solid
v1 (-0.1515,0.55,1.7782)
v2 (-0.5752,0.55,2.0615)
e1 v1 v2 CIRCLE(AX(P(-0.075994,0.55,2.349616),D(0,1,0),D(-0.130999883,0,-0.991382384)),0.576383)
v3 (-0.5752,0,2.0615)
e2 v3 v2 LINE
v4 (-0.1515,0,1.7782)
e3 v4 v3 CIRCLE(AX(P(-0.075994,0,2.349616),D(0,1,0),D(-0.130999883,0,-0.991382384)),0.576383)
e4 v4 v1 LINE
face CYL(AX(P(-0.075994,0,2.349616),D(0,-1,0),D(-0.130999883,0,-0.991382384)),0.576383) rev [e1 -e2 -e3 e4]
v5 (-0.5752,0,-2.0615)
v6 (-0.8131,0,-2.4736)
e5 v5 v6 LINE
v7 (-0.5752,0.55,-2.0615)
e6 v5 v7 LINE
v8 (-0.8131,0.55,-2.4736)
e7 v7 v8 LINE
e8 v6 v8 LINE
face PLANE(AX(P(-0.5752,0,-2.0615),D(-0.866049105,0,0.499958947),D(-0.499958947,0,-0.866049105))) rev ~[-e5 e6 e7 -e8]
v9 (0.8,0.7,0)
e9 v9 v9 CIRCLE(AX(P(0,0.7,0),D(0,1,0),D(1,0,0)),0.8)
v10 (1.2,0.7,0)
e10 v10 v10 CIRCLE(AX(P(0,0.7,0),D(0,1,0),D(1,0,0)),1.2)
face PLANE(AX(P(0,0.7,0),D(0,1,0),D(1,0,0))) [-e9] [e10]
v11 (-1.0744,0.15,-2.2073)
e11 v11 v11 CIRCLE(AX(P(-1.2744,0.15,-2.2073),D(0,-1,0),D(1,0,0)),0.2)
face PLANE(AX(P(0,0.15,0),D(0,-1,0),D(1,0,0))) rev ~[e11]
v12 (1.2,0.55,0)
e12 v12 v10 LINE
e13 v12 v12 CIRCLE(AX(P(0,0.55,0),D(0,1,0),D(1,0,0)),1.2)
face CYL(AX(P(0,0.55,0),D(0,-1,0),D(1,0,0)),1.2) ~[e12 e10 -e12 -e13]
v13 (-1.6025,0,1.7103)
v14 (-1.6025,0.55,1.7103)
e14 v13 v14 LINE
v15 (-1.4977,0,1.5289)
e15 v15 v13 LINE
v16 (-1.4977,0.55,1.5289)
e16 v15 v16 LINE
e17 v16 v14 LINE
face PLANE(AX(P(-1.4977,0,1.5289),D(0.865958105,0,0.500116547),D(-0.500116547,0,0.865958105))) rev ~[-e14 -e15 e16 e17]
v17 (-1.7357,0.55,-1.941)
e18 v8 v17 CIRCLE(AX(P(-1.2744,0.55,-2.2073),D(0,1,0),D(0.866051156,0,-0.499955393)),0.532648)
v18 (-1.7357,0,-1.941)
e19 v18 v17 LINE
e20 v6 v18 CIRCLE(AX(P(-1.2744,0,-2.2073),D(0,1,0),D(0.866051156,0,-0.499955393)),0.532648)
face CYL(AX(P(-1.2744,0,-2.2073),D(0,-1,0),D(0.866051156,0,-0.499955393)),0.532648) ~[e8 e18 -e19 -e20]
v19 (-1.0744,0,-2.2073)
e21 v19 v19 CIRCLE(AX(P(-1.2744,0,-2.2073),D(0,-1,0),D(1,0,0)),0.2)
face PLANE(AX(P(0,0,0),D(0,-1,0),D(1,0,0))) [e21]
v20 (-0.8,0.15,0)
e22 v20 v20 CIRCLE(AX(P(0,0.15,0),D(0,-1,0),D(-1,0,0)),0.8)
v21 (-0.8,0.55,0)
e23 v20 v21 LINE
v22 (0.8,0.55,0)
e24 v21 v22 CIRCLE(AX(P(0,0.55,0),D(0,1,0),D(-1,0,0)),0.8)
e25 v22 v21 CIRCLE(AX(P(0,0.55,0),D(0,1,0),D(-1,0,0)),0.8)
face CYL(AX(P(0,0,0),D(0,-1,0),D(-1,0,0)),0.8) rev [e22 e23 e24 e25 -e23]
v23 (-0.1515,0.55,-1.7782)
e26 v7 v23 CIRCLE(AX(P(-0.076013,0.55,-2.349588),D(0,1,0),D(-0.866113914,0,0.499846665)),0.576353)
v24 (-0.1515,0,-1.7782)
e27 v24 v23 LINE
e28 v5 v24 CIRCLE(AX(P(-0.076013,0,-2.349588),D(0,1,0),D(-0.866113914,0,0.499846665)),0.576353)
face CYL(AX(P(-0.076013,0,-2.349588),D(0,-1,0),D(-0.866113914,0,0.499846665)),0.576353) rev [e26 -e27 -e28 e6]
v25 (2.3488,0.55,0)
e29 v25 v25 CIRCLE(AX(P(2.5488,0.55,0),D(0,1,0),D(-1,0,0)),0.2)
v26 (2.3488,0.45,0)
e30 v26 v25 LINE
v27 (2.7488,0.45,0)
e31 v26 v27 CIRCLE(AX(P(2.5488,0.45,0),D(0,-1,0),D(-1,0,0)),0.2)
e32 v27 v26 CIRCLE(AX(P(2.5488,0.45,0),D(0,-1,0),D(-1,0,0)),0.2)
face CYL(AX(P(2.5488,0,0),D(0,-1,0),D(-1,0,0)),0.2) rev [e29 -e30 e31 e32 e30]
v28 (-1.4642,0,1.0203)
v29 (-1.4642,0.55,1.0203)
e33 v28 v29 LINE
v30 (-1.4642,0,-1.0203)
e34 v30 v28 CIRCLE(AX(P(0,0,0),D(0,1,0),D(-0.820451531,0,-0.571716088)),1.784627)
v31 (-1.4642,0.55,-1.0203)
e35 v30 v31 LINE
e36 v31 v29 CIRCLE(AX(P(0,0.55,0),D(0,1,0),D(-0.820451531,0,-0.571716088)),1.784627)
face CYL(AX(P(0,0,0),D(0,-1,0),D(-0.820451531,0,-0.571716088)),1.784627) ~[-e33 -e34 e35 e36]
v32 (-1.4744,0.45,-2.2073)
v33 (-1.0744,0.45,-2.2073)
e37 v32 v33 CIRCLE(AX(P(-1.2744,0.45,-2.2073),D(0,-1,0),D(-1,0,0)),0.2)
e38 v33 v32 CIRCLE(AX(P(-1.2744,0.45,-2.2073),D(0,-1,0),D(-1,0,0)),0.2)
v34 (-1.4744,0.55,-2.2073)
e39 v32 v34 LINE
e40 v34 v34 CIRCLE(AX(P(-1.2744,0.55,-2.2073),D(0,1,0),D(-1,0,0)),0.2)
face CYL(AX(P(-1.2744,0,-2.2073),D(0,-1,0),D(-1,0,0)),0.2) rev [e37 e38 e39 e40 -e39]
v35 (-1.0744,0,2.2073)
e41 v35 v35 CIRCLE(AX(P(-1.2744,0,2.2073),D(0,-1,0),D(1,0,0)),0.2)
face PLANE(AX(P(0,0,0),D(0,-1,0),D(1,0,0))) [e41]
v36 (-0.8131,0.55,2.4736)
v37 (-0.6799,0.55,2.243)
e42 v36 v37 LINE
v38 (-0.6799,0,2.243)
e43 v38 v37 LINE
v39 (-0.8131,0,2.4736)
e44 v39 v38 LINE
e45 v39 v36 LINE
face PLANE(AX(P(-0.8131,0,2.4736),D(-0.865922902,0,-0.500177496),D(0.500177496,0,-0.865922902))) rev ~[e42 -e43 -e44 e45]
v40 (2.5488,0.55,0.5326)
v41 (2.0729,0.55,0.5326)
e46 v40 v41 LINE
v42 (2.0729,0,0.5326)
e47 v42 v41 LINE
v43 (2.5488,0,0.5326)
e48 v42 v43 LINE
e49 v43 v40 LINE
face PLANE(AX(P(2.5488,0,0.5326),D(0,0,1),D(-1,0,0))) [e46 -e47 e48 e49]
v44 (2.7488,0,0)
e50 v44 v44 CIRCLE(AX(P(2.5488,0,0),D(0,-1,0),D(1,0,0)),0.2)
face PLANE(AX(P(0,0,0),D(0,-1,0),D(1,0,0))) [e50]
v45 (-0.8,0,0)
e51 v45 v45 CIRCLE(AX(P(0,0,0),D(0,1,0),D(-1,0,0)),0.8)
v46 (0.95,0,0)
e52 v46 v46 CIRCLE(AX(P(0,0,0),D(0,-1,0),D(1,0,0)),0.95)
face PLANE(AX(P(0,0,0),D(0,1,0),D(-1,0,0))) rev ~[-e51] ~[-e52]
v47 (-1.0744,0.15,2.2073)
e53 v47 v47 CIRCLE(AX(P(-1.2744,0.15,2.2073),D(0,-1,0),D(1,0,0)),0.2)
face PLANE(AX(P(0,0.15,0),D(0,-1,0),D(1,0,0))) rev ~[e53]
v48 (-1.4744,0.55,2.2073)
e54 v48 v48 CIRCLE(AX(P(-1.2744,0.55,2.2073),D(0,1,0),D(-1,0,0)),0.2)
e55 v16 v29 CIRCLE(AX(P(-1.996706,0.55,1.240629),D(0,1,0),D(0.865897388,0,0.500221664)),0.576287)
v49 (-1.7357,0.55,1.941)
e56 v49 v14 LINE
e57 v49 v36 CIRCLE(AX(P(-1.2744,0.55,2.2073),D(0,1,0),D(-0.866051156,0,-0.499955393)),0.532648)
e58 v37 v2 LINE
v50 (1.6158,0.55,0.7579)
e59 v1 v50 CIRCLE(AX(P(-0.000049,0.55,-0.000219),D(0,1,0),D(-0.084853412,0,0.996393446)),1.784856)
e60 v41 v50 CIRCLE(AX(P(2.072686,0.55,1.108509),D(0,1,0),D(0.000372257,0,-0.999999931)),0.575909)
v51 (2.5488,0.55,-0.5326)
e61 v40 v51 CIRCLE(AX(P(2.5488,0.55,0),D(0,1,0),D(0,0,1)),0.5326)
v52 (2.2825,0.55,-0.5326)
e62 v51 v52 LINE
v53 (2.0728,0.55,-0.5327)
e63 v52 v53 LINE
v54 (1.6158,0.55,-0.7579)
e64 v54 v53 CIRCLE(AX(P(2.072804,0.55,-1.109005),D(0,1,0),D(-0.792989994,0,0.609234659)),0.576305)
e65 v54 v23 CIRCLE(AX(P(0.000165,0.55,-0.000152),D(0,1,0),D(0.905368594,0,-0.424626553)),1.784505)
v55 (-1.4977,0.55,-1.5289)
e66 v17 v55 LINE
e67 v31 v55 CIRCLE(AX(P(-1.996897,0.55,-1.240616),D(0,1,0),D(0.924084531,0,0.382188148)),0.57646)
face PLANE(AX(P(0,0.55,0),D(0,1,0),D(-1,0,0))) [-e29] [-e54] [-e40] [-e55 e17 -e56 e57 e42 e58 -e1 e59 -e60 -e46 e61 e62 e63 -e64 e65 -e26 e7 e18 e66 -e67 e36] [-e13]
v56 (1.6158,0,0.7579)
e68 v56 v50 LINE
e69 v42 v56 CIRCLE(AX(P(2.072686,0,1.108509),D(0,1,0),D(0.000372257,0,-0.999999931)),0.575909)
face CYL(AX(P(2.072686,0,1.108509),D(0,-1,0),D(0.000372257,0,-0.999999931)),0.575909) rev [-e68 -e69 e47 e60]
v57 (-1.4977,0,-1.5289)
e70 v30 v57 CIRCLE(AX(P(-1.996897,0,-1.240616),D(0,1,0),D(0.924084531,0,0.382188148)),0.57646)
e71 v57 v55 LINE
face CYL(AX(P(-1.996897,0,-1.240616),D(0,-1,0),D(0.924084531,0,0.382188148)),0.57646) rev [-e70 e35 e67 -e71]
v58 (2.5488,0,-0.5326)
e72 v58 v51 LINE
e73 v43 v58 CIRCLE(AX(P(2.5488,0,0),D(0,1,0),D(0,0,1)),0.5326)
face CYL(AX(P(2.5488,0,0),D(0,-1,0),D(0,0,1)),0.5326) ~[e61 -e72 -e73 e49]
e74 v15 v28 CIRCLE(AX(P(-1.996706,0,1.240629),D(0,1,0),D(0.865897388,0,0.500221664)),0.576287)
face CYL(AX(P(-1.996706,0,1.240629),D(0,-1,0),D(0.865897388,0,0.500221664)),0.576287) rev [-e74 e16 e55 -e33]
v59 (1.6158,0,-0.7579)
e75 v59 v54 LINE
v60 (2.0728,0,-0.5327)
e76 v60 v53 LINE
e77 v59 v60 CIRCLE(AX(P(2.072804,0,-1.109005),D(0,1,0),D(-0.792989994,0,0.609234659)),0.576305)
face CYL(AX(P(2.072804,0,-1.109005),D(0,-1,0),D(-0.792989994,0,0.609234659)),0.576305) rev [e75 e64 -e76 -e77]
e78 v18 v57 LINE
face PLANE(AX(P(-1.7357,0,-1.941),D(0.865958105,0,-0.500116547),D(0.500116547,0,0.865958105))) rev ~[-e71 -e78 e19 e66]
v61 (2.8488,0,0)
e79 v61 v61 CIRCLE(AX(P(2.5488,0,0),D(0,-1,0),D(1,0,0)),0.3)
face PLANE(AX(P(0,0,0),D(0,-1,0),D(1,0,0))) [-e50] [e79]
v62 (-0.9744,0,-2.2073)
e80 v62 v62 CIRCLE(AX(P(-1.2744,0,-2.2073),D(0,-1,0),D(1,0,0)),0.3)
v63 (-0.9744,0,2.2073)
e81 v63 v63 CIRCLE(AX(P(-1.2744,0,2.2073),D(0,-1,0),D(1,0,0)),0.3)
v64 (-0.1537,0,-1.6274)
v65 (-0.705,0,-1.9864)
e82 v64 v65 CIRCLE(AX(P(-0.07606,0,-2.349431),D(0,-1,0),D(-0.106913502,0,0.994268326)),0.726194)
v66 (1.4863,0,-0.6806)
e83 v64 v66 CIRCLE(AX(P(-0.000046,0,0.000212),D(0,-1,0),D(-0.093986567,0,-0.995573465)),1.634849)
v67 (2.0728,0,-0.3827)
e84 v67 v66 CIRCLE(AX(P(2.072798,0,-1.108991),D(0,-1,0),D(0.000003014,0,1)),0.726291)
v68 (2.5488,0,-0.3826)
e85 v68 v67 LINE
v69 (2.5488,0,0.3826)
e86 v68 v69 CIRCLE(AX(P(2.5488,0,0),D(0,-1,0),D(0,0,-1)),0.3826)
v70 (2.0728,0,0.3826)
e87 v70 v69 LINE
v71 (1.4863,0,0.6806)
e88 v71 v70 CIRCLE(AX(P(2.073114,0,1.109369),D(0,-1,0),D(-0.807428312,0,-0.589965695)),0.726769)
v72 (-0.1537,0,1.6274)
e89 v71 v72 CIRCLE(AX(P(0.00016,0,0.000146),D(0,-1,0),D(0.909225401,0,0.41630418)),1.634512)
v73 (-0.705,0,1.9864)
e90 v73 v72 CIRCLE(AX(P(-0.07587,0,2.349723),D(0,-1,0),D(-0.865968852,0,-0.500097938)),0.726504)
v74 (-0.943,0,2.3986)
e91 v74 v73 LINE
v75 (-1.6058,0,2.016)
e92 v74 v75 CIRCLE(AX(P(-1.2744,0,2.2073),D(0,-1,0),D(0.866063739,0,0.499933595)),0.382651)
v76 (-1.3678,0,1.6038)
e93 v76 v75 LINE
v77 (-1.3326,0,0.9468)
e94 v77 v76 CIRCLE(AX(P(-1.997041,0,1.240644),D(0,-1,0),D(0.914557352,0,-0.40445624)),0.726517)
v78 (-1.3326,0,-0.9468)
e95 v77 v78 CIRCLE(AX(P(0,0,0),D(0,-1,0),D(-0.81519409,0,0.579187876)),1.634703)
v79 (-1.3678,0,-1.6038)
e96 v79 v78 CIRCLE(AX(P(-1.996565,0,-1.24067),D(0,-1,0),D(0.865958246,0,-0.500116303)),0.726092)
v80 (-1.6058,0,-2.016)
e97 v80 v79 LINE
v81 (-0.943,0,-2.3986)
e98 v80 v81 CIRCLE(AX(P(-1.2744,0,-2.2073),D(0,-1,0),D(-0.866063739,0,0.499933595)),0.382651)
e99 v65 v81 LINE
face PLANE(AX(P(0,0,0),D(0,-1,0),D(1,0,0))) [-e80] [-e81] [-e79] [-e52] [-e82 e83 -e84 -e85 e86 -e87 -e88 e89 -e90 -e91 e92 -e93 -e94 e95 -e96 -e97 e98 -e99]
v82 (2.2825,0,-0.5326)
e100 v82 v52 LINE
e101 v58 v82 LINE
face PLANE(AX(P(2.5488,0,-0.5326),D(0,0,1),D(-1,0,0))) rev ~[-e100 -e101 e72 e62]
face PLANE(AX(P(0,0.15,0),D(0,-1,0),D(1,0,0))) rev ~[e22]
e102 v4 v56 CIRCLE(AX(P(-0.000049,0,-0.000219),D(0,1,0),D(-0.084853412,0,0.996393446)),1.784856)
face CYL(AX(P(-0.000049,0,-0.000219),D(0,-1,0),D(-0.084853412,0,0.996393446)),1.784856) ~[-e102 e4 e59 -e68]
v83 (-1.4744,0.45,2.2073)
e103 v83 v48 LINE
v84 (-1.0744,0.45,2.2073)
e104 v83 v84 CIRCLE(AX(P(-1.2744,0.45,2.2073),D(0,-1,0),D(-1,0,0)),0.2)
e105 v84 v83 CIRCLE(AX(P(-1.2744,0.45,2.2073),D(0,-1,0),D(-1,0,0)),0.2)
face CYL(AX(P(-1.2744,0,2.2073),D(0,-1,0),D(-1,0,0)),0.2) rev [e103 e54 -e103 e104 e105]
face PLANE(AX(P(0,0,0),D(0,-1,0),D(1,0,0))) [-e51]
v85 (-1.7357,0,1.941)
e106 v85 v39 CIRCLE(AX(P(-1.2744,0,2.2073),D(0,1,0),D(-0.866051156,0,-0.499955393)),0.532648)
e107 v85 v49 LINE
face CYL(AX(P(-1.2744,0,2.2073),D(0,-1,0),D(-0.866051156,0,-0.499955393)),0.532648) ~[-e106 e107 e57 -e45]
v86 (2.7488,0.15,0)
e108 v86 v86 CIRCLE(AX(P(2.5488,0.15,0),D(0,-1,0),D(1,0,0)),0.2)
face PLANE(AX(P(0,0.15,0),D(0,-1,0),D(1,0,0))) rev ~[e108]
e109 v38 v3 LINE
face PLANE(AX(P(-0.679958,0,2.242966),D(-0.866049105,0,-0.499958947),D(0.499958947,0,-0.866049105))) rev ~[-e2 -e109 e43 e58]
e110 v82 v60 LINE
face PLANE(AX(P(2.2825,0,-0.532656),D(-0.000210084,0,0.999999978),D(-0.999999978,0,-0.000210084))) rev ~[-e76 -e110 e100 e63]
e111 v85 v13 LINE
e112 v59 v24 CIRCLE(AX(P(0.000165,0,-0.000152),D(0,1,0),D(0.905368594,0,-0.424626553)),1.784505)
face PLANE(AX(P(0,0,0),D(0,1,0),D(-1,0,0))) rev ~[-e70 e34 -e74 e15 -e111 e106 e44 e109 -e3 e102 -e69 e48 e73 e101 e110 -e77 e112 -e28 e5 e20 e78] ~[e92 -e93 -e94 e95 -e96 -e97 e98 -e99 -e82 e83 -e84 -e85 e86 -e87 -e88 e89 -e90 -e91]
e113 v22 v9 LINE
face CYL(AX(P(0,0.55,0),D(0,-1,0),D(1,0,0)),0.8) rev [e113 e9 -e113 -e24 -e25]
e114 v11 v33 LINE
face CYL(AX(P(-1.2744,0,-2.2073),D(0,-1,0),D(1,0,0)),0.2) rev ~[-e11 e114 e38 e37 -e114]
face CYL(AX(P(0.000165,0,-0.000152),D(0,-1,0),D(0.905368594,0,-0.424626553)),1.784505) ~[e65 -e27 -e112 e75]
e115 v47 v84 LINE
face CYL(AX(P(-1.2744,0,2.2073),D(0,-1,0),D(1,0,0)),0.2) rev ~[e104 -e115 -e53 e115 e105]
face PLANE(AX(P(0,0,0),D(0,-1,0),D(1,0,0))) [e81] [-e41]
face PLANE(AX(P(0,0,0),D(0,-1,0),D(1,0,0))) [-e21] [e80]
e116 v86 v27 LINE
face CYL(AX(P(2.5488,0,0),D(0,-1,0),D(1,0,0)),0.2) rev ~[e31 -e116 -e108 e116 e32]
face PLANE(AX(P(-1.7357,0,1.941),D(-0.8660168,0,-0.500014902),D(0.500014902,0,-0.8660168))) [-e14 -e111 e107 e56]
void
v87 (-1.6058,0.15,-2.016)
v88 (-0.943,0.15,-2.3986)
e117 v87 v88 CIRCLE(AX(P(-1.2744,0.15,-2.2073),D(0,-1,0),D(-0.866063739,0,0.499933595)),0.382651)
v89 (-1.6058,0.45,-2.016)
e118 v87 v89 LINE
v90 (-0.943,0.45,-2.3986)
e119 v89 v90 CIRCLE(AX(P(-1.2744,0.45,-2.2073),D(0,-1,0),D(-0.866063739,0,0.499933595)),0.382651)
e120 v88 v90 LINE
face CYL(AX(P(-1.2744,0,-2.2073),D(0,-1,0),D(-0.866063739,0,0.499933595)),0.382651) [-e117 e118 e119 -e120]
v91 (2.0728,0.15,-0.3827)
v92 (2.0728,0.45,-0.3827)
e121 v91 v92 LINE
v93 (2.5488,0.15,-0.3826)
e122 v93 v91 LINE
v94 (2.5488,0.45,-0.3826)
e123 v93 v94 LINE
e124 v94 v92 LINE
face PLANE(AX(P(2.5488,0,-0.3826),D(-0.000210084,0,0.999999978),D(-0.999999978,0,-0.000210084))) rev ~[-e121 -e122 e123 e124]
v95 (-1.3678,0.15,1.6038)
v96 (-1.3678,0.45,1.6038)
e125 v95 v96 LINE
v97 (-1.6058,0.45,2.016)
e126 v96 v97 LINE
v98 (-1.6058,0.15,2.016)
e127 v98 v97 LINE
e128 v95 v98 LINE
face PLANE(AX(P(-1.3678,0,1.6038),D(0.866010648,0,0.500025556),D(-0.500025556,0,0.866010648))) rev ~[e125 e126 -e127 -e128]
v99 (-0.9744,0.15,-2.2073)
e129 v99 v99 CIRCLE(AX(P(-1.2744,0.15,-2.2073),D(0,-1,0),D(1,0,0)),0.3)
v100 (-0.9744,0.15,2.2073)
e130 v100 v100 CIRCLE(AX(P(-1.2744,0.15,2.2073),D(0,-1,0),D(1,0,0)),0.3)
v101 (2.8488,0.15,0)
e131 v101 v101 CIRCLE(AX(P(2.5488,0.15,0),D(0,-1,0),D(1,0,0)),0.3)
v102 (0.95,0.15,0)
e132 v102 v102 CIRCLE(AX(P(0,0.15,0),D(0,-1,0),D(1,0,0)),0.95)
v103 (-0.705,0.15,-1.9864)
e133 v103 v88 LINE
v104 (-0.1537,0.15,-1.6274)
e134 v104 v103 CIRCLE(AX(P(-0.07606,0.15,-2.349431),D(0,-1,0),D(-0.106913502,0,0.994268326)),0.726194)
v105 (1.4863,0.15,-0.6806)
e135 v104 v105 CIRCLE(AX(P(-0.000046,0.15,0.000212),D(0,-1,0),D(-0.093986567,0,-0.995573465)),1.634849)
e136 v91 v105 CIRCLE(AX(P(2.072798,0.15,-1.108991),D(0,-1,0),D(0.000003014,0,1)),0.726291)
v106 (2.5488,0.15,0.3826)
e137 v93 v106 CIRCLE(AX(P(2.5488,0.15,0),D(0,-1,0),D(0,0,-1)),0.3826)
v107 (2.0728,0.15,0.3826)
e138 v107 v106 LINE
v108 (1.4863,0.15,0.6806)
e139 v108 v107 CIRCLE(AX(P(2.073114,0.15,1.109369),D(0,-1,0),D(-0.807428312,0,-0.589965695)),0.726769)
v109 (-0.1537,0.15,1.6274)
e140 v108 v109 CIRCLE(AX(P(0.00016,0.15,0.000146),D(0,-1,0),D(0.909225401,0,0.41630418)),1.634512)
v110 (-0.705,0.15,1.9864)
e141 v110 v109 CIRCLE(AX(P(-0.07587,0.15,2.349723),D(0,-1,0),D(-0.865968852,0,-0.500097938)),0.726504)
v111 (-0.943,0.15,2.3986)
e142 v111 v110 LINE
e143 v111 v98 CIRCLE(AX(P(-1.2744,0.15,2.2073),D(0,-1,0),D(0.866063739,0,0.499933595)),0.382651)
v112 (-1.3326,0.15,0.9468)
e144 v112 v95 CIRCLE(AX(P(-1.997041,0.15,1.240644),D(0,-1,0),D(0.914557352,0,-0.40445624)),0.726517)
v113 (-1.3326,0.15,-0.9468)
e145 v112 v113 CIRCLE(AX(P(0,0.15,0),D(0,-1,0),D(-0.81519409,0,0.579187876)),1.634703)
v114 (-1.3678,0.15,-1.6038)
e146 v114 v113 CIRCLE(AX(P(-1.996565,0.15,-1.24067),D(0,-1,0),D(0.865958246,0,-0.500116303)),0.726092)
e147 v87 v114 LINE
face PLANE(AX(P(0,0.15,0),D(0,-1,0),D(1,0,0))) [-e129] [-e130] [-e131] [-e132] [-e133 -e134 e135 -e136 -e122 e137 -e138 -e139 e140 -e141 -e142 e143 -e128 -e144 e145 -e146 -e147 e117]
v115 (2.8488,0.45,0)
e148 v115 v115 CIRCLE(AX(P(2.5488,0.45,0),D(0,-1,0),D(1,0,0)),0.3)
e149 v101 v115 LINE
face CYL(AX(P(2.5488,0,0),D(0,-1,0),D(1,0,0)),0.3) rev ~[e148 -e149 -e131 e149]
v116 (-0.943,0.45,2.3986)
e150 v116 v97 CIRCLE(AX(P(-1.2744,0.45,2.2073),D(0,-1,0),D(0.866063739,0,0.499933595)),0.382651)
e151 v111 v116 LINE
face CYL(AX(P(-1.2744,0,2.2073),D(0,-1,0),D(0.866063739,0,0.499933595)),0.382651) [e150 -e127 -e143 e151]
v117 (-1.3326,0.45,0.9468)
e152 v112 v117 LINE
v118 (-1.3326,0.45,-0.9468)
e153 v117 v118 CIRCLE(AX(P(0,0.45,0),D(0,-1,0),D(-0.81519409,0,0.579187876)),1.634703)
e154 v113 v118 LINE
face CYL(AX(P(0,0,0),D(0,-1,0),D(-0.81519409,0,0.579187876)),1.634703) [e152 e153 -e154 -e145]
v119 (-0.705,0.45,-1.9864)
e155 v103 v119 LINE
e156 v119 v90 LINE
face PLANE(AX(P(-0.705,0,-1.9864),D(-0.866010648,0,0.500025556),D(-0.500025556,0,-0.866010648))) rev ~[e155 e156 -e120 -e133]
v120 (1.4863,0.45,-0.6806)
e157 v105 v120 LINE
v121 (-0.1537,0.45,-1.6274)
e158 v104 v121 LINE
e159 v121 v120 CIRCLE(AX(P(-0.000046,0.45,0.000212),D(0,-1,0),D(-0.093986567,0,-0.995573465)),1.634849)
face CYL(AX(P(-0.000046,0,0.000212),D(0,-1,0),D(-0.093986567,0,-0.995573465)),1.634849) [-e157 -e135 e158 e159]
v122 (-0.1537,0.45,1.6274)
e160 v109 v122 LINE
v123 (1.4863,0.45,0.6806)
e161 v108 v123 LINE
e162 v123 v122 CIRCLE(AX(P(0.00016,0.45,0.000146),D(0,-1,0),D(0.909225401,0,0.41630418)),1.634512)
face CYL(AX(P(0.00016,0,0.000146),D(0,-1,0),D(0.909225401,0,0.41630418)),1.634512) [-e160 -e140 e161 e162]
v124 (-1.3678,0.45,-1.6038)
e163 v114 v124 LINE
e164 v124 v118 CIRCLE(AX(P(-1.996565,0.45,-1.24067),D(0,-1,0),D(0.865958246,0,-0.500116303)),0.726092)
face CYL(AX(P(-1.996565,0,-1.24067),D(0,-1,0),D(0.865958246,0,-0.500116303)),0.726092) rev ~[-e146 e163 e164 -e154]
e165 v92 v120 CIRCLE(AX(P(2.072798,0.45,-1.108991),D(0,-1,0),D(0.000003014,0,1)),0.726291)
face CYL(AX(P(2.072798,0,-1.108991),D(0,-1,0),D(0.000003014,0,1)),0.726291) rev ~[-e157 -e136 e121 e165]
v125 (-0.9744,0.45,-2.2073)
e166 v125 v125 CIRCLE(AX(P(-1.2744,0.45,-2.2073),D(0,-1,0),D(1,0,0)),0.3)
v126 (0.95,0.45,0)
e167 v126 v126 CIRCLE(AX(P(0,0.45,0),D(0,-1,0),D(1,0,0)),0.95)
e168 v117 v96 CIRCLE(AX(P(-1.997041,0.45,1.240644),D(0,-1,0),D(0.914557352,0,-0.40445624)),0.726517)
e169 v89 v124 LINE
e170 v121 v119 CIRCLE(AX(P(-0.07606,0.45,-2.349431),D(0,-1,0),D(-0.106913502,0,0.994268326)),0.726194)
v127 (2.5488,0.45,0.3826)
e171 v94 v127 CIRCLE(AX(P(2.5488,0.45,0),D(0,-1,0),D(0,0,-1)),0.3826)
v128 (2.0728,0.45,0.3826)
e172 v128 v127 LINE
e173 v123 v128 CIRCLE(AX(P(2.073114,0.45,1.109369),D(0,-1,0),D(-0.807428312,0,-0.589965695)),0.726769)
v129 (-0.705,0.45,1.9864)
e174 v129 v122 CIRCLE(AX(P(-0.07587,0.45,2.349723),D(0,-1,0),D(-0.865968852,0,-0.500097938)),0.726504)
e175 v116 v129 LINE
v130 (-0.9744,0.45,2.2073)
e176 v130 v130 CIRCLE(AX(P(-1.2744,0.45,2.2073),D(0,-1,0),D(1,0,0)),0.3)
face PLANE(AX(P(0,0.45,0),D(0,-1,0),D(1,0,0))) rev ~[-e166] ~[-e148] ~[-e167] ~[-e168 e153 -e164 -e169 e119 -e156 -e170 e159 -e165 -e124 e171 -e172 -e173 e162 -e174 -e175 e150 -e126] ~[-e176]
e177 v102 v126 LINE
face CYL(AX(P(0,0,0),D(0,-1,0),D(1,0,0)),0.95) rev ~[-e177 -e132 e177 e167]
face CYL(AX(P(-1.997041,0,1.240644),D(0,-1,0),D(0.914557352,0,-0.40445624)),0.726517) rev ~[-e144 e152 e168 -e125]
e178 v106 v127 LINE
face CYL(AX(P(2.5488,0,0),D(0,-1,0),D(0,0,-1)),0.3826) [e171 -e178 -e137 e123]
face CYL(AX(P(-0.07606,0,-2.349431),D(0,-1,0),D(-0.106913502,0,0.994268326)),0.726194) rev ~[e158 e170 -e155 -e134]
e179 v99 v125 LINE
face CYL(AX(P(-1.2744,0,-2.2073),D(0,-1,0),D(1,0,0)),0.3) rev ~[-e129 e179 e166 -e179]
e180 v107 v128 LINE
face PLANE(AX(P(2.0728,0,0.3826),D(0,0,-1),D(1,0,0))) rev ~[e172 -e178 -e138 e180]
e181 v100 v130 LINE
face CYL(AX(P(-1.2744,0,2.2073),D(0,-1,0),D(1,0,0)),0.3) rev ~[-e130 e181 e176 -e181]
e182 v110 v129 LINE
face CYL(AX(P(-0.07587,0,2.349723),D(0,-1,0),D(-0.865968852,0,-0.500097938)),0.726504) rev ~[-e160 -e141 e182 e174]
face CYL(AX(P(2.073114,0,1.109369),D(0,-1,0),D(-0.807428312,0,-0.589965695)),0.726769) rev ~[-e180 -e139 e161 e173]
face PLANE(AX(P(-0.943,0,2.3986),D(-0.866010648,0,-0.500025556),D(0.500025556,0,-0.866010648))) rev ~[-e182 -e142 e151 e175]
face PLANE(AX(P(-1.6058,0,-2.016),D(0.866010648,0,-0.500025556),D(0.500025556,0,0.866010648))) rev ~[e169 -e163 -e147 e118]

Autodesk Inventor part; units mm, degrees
ref_plane "YZ Plane" through (0, 0, 0) normal (1, 0, 0) x (0, 1, 0)
ref_plane "XZ Plane" through (0, 0, 0) normal (0, 1, 0) x (-1, 0, 0)
ref_plane "XY Plane" through (0, 0, 0) normal (0, 0, 1) x (1, 0, 0)
sketch "Boceto1" plane through (0, 0, 0) normal (0, 1, 0) x (-1, 0, 0)
  arc A0 (-2.5488, 0.5326) -> (-2.5488, -0.5326) centre (-2.5488, 0) ccw
  circle A1 centre (-2.5488, 0) radius 0.2
  arc A2 (1.7357, 1.941) -> (0.8131, 2.4736) centre (1.2744, 2.2073) ccw
  circle A3 centre (1.2744, 2.2073) radius 0.2
  line L0 (-2.5488, 0.5326) -> (-2.2825, 0.5326)
  line L1 (-2.5488, -0.5326) -> (-2.2825, -0.5326)
  line L2 (0.8131, 2.4736) -> (0.6799, 2.243)
  line L3 (1.7357, 1.941) -> (1.6025, 1.7103)
  arc A4 (0.8131, -2.4736) -> (1.7357, -1.941) centre (1.2744, -2.2073) ccw
  circle A5 centre (1.2744, -2.2073) radius 0.2
  line L4 (1.7357, -1.941) -> (1.4977, -1.5289)
  arc A6 (1.4642, -1.0203) -> (1.4977, -1.5289) centre (1.9968, -1.2406) ccw
  circle A7 centre (0, 0) radius 0.8
  circle A8 centre (0, 0) radius 1.2
  arc A9 (0.5752, -2.0615) -> (0.1515, -1.7782) centre (0.076, -2.3496) ccw
  line L5 (0.5752, -2.0615) -> (0.8131, -2.4736)
  line L6 (-2.5488, -0.5326) -> (-2.0728, -0.5327)
  arc A10 (-1.6158, -0.7579) -> (-2.0728, -0.5327) centre (-2.0728, -1.109) ccw
  arc A11 (-2.0729, 0.5326) -> (-1.6158, 0.7579) centre (-2.0728, 1.109) ccw
  line L7 (-2.0729, 0.5326) -> (-2.5488, 0.5326)
  line L8 (0.8131, 2.4736) -> (0.5752, 2.0615)
  arc A12 (0.1515, 1.7782) -> (0.5752, 2.0615) centre (0.076, 2.3496) ccw
  arc A13 (1.4977, 1.5289) -> (1.4642, 1.0203) centre (1.9968, 1.2406) ccw
  line L9 (1.4977, 1.5289) -> (1.7357, 1.941)
  arc A14 (-1.6158, -0.7579) -> (0.1515, -1.7782) centre (0, 0) ccw
  arc A15 (0.1515, 1.7782) -> (-1.6158, 0.7579) centre (0, 0) ccw
  arc A16 (1.4642, -1.0203) -> (1.4642, 1.0203) centre (0, 0) ccw
  point P0 (0, 0)
extrude "Extrusión1" add sketch "Boceto1" along normal blind 0.55 contours L0 L7 A11 A15 A12 L8 L2 A2 L3 L9 A13 A16 A6 L4 A4 L5 A9 A14 A10 L6 L1 A0 | A8
sketch "Boceto2" plane through (0, 0.55, 0) normal (0, 1, 0) x (1, 0, 0)
  arc A0 (2.5488, -0.5326) -> (2.5488, 0.5326) centre (2.5488, 0) ccw
  circle A1 centre (2.5488, 0) radius 0.2
  arc A2 (-1.7357, -1.941) -> (-0.8131, -2.4736) centre (-1.2744, -2.2073) ccw
  circle A3 centre (-1.2744, -2.2073) radius 0.2
  line L0 (2.5488, -0.5326) -> (2.2825, -0.5326)
  line L1 (2.5488, 0.5326) -> (2.2825, 0.5326)
  line L2 (-0.8131, -2.4736) -> (-0.6799, -2.243)
  line L3 (-1.7357, -1.941) -> (-1.6025, -1.7103)
  arc A4 (-0.8131, 2.4736) -> (-1.7357, 1.941) centre (-1.2744, 2.2073) ccw
  circle A5 centre (-1.2744, 2.2073) radius 0.2
  line L4 (-1.7357, 1.941) -> (-1.4977, 1.5289)
  arc A6 (-1.4642, 1.0203) -> (-1.4977, 1.5289) centre (-1.9968, 1.2406) ccw
  circle A7 centre (0, 0) radius 0.8
  circle A8 centre (0, 0) radius 1.2
  arc A9 (-0.5752, 2.0615) -> (-0.1515, 1.7782) centre (-0.076, 2.3496) ccw
  line L5 (-0.5752, 2.0615) -> (-0.8131, 2.4736)
  line L6 (2.5488, 0.5326) -> (2.0728, 0.5327)
  arc A10 (1.6158, 0.7579) -> (2.0728, 0.5327) centre (2.0728, 1.109) ccw
  arc A11 (2.0728, -0.5326) -> (1.6158, -0.7579) centre (2.0728, -1.109) ccw
  line L7 (2.0728, -0.5326) -> (2.5488, -0.5326)
  line L8 (-0.8131, -2.4736) -> (-0.5752, -2.0615)
  arc A12 (-0.1515, -1.7782) -> (-0.5752, -2.0615) centre (-0.076, -2.3496) ccw
  arc A13 (-1.4977, -1.5289) -> (-1.4642, -1.0203) centre (-1.9968, -1.2406) ccw
  line L9 (-1.4977, -1.5289) -> (-1.7357, -1.941)
  arc A14 (1.6158, 0.7579) -> (-0.1515, 1.7782) centre (0, 0) ccw
  arc A15 (-0.1515, -1.7782) -> (1.6158, -0.7579) centre (0, 0) ccw
  arc A16 (-1.4642, 1.0203) -> (-1.4642, -1.0203) centre (0, 0) ccw
extrude "Extrusión2" add sketch "Boceto2" along normal blind 0.15 contours A8
sketch "Boceto3" plane through (0, 0, 0) normal (0, 1, 0) x (-1, 0, 0)
  arc A0 (-2.5488, 0.5326) -> (-2.5488, -0.5326) centre (-2.5488, 0) ccw
  circle A1 centre (-2.5488, 0) radius 0.2
  arc A2 (1.7357, 1.941) -> (0.8131, 2.4736) centre (1.2744, 2.2073) ccw
  circle A3 centre (1.2744, 2.2073) radius 0.2
  line L0 (-2.5488, 0.5326) -> (-2.2825, 0.5326)
  line L1 (-2.5488, -0.5326) -> (-2.2825, -0.5326)
  line L2 (0.8131, 2.4736) -> (0.6799, 2.243)
  line L3 (1.7357, 1.941) -> (1.6025, 1.7103)
  arc A4 (0.8131, -2.4736) -> (1.7357, -1.941) centre (1.2744, -2.2073) ccw
  circle A5 centre (1.2744, -2.2073) radius 0.2
  line L4 (1.7357, -1.941) -> (1.4977, -1.5289)
  arc A6 (1.4642, -1.0203) -> (1.4977, -1.5289) centre (1.9968, -1.2406) ccw
  circle A7 centre (0, 0) radius 0.8
  circle A8 centre (0, 0) radius 1.2
  arc A9 (0.5752, -2.0615) -> (0.1515, -1.7782) centre (0.076, -2.3496) ccw
  line L5 (0.5752, -2.0615) -> (0.8131, -2.4736)
  line L6 (-2.5488, -0.5326) -> (-2.0728, -0.5327)
  arc A10 (-1.6158, -0.7579) -> (-2.0728, -0.5327) centre (-2.0728, -1.109) ccw
  arc A11 (-2.0729, 0.5326) -> (-1.6158, 0.7579) centre (-2.0728, 1.109) ccw
  line L7 (-2.0729, 0.5326) -> (-2.5488, 0.5326)
  line L8 (0.8131, 2.4736) -> (0.5752, 2.0615)
  arc A12 (0.1515, 1.7782) -> (0.5752, 2.0615) centre (0.076, 2.3496) ccw
  arc A13 (1.4977, 1.5289) -> (1.4642, 1.0203) centre (1.9968, 1.2406) ccw
  line L9 (1.4977, 1.5289) -> (1.7357, 1.941)
  arc A14 (-1.6158, -0.7579) -> (0.1515, -1.7782) centre (0, 0) ccw
  arc A15 (0.1515, 1.7782) -> (-1.6158, 0.7579) centre (0, 0) ccw
  arc A16 (1.4642, -1.0203) -> (1.4642, 1.0203) centre (0, 0) ccw
  point P0 (0, 0)
extrude "Extrusión3" add sketch "Boceto3" along normal blind 0.2 contours A1 | A3 | A5
sketch "Boceto4" plane through (0, 0, 0) normal (0, -1, 0) x (1, 0, 0)
  arc A0 (1.6158, 0.7579) -> (-0.1515, 1.7782) centre (0, 0) ccw projected
  circle A1 centre (0, 0) radius 0.8 projected
  arc A2 (2.5488, -0.5326) -> (2.5488, 0.5326) centre (2.5488, 0) ccw projected
  line L0 (2.0729, 0.5326) -> (2.5488, 0.5326) projected
  arc A3 (1.6158, 0.7579) -> (2.0729, 0.5326) centre (2.0728, 1.109) ccw projected
  arc A4 (1.6158, 0.7579) -> (-0.1515, 1.7782) centre (0, 0) ccw projected
  arc A5 (-0.5752, 2.0615) -> (-0.1515, 1.7782) centre (-0.076, 2.3496) ccw projected
  line L1 (-0.8131, 2.4736) -> (-0.5752, 2.0615) projected
  arc A6 (-0.8131, 2.4736) -> (-1.7357, 1.941) centre (-1.2744, 2.2073) ccw projected
  line L2 (-1.4977, 1.5289) -> (-1.7357, 1.941) projected
  arc A7 (-1.4642, 1.0203) -> (-1.4977, 1.5289) centre (-1.9968, 1.2406) ccw projected
  arc A8 (-1.4642, 1.0203) -> (-1.4642, -1.0203) centre (0, 0) ccw projected
  arc A9 (-1.4977, -1.5289) -> (-1.4642, -1.0203) centre (-1.9968, -1.2406) ccw projected
  line L3 (-1.7357, -1.941) -> (-1.4977, -1.5289) projected
  arc A10 (-1.7357, -1.941) -> (-0.8131, -2.4736) centre (-1.2744, -2.2073) ccw projected
  line L4 (-0.5752, -2.0615) -> (-0.8131, -2.4736) projected
  arc A11 (-0.1515, -1.7782) -> (-0.5752, -2.0615) centre (-0.076, -2.3496) ccw projected
  arc A12 (-0.1515, -1.7782) -> (1.6158, -0.7579) centre (0, 0) ccw projected
  arc A13 (2.0728, -0.5327) -> (1.6158, -0.7579) centre (2.0728, -1.109) ccw projected
  line L5 (2.5488, -0.5326) -> (2.0728, -0.5327) projected
  line L6 (2.0728, 0.3826) -> (2.5488, 0.3826)
  arc A14 (2.5488, -0.3826) -> (2.5488, 0.3826) centre (2.5488, 0) ccw
  line L7 (2.5488, -0.3826) -> (2.0728, -0.3827)
  arc A15 (2.0728, -0.3827) -> (1.4863, -0.6806) centre (2.0728, -1.109) ccw
  arc A16 (-0.1537, -1.6274) -> (1.4863, -0.6806) centre (0, 0) ccw
  arc A17 (-0.1537, -1.6274) -> (-0.705, -1.9864) centre (-0.076, -2.3496) ccw
  line L8 (-0.705, -1.9864) -> (-0.943, -2.3986)
  arc A18 (-1.6058, -2.016) -> (-0.943, -2.3986) centre (-1.2744, -2.2073) ccw
  line L9 (-1.6058, -2.016) -> (-1.3678, -1.6038)
  arc A19 (-1.3678, -1.6038) -> (-1.3326, -0.9468) centre (-1.9968, -1.2406) ccw
  arc A20 (-1.3326, 0.9468) -> (-1.3326, -0.9468) centre (0, 0) ccw
  arc A21 (-1.3326, 0.9468) -> (-1.3678, 1.6038) centre (-1.9968, 1.2406) ccw
  line L10 (-1.3678, 1.6038) -> (-1.6058, 2.016)
  arc A22 (-0.943, 2.3986) -> (-1.6058, 2.016) centre (-1.2744, 2.2073) ccw
  line L11 (-0.943, 2.3986) -> (-0.705, 1.9864)
  arc A23 (-0.705, 1.9864) -> (-0.1537, 1.6274) centre (-0.076, 2.3496) ccw
  arc A24 (1.4863, 0.6806) -> (-0.1537, 1.6274) centre (0, 0) ccw
  arc A25 (1.4863, 0.6806) -> (2.0728, 0.3826) centre (2.0728, 1.109) ccw
  circle A26 centre (0, 0) radius 0.95
  point P0 (0, 0)
  dimension "d6" = 0.15
  dimension "d7" = 0.15
extrude "Extrusión4" cut sketch "Boceto4" against normal blind 0.45 contours L6 A14 L7 A15 A16 A17 L8 A18 L9 A19 A20 A21 L10 A22 L11 A23 A24 A25
sketch "Boceto5" plane through (0, 0, 0) normal (0, -1, 0) x (1, 0, 0)
  circle A0 centre (-1.2744, -2.2073) radius 0.2 projected
  circle A1 centre (-1.2744, 2.2073) radius 0.2 projected
  circle A2 centre (2.5488, 0) radius 0.2 projected
  circle A3 centre (-1.2744, -2.2073) radius 0.3
  circle A4 centre (-1.2744, 2.2073) radius 0.3
  circle A5 centre (2.5488, 0) radius 0.3
  point P0 (0, 0)
  dimension "d10" = 0.1
  dimension "d11" = 0.1
  dimension "d12" = 0.1
extrude "Extrusión5" add sketch "Boceto5" against normal blind 0.45
sketch "Boceto6" plane through (0, 0, 0) normal (0, -1, 0) x (1, 0, 0)
  arc A0 (2.5488, -0.5326) -> (2.5488, 0.5326) centre (2.5488, 0) ccw projected
  line L0 (2.0729, 0.5326) -> (2.5488, 0.5326) projected
  arc A1 (1.6158, 0.7579) -> (2.0729, 0.5326) centre (2.0728, 1.109) ccw projected
  arc A2 (1.6158, 0.7579) -> (-0.1515, 1.7782) centre (0, 0) ccw projected
  arc A3 (-0.5752, 2.0615) -> (-0.1515, 1.7782) centre (-0.076, 2.3496) ccw projected
  line L1 (-0.8131, 2.4736) -> (-0.5752, 2.0615) projected
  arc A4 (-0.8131, 2.4736) -> (-1.7357, 1.941) centre (-1.2744, 2.2073) ccw projected
  line L2 (-1.4977, 1.5289) -> (-1.7357, 1.941) projected
  arc A5 (-1.4642, 1.0203) -> (-1.4977, 1.5289) centre (-1.9968, 1.2406) ccw projected
  arc A6 (-1.4642, 1.0203) -> (-1.4642, -1.0203) centre (0, 0) ccw projected
  arc A7 (-1.4977, -1.5289) -> (-1.4642, -1.0203) centre (-1.9968, -1.2406) ccw projected
  line L3 (-1.7357, -1.941) -> (-1.4977, -1.5289) projected
  arc A8 (-1.7357, -1.941) -> (-0.8131, -2.4736) centre (-1.2744, -2.2073) ccw projected
  line L4 (-0.5752, -2.0615) -> (-0.8131, -2.4736) projected
  arc A9 (-0.1515, -1.7782) -> (-0.5752, -2.0615) centre (-0.076, -2.3496) ccw projected
  arc A10 (-0.1515, -1.7782) -> (1.6158, -0.7579) centre (0, 0) ccw projected
  arc A11 (2.0728, -0.5327) -> (1.6158, -0.7579) centre (2.0728, -1.109) ccw projected
  line L5 (2.5488, -0.5326) -> (2.0728, -0.5327) projected
  arc A12 (1.4863, 0.6806) -> (2.0728, 0.3826) centre (2.0728, 1.109) ccw projected
  line L6 (2.0728, 0.3826) -> (2.5488, 0.3826) projected
  arc A13 (2.5488, -0.3826) -> (2.5488, 0.3826) centre (2.5488, 0) ccw projected
  line L7 (2.5488, -0.3826) -> (2.0728, -0.3827) projected
  arc A14 (2.0728, -0.3827) -> (1.4863, -0.6806) centre (2.0728, -1.109) ccw projected
  arc A15 (-0.1537, -1.6274) -> (1.4863, -0.6806) centre (0, 0) ccw projected
  arc A16 (-0.1537, -1.6274) -> (-0.705, -1.9864) centre (-0.076, -2.3496) ccw projected
  line L8 (-0.705, -1.9864) -> (-0.943, -2.3986) projected
  arc A17 (-1.6058, -2.016) -> (-0.943, -2.3986) centre (-1.2744, -2.2073) ccw projected
  line L9 (-1.6058, -2.016) -> (-1.3678, -1.6038) projected
  arc A18 (-1.3678, -1.6038) -> (-1.3326, -0.9468) centre (-1.9968, -1.2406) ccw projected
  arc A19 (-1.3326, 0.9468) -> (-1.3326, -0.9468) centre (0, 0) ccw projected
  arc A20 (-1.3326, 0.9468) -> (-1.3678, 1.6038) centre (-1.9968, 1.2406) ccw projected
  line L10 (-1.3678, 1.6038) -> (-1.6058, 2.016) projected
  arc A21 (-0.943, 2.3986) -> (-1.6058, 2.016) centre (-1.2744, 2.2073) ccw projected
  line L11 (-0.943, 2.3986) -> (-0.705, 1.9864) projected
  arc A22 (-0.705, 1.9864) -> (-0.1537, 1.6274) centre (-0.076, 2.3496) ccw projected
  arc A23 (1.4863, 0.6806) -> (-0.1537, 1.6274) centre (0, 0) ccw projected
  point P0 (0, 0)
extrude "Extrusión6" add sketch "Boceto6" against normal blind 0.15 contours A12 L6 A13 L7 A14 A15 A16 L8 A17 L9 A18 A19 A20 L10 A21 L11 A22 A23
properties part number "ET1"
